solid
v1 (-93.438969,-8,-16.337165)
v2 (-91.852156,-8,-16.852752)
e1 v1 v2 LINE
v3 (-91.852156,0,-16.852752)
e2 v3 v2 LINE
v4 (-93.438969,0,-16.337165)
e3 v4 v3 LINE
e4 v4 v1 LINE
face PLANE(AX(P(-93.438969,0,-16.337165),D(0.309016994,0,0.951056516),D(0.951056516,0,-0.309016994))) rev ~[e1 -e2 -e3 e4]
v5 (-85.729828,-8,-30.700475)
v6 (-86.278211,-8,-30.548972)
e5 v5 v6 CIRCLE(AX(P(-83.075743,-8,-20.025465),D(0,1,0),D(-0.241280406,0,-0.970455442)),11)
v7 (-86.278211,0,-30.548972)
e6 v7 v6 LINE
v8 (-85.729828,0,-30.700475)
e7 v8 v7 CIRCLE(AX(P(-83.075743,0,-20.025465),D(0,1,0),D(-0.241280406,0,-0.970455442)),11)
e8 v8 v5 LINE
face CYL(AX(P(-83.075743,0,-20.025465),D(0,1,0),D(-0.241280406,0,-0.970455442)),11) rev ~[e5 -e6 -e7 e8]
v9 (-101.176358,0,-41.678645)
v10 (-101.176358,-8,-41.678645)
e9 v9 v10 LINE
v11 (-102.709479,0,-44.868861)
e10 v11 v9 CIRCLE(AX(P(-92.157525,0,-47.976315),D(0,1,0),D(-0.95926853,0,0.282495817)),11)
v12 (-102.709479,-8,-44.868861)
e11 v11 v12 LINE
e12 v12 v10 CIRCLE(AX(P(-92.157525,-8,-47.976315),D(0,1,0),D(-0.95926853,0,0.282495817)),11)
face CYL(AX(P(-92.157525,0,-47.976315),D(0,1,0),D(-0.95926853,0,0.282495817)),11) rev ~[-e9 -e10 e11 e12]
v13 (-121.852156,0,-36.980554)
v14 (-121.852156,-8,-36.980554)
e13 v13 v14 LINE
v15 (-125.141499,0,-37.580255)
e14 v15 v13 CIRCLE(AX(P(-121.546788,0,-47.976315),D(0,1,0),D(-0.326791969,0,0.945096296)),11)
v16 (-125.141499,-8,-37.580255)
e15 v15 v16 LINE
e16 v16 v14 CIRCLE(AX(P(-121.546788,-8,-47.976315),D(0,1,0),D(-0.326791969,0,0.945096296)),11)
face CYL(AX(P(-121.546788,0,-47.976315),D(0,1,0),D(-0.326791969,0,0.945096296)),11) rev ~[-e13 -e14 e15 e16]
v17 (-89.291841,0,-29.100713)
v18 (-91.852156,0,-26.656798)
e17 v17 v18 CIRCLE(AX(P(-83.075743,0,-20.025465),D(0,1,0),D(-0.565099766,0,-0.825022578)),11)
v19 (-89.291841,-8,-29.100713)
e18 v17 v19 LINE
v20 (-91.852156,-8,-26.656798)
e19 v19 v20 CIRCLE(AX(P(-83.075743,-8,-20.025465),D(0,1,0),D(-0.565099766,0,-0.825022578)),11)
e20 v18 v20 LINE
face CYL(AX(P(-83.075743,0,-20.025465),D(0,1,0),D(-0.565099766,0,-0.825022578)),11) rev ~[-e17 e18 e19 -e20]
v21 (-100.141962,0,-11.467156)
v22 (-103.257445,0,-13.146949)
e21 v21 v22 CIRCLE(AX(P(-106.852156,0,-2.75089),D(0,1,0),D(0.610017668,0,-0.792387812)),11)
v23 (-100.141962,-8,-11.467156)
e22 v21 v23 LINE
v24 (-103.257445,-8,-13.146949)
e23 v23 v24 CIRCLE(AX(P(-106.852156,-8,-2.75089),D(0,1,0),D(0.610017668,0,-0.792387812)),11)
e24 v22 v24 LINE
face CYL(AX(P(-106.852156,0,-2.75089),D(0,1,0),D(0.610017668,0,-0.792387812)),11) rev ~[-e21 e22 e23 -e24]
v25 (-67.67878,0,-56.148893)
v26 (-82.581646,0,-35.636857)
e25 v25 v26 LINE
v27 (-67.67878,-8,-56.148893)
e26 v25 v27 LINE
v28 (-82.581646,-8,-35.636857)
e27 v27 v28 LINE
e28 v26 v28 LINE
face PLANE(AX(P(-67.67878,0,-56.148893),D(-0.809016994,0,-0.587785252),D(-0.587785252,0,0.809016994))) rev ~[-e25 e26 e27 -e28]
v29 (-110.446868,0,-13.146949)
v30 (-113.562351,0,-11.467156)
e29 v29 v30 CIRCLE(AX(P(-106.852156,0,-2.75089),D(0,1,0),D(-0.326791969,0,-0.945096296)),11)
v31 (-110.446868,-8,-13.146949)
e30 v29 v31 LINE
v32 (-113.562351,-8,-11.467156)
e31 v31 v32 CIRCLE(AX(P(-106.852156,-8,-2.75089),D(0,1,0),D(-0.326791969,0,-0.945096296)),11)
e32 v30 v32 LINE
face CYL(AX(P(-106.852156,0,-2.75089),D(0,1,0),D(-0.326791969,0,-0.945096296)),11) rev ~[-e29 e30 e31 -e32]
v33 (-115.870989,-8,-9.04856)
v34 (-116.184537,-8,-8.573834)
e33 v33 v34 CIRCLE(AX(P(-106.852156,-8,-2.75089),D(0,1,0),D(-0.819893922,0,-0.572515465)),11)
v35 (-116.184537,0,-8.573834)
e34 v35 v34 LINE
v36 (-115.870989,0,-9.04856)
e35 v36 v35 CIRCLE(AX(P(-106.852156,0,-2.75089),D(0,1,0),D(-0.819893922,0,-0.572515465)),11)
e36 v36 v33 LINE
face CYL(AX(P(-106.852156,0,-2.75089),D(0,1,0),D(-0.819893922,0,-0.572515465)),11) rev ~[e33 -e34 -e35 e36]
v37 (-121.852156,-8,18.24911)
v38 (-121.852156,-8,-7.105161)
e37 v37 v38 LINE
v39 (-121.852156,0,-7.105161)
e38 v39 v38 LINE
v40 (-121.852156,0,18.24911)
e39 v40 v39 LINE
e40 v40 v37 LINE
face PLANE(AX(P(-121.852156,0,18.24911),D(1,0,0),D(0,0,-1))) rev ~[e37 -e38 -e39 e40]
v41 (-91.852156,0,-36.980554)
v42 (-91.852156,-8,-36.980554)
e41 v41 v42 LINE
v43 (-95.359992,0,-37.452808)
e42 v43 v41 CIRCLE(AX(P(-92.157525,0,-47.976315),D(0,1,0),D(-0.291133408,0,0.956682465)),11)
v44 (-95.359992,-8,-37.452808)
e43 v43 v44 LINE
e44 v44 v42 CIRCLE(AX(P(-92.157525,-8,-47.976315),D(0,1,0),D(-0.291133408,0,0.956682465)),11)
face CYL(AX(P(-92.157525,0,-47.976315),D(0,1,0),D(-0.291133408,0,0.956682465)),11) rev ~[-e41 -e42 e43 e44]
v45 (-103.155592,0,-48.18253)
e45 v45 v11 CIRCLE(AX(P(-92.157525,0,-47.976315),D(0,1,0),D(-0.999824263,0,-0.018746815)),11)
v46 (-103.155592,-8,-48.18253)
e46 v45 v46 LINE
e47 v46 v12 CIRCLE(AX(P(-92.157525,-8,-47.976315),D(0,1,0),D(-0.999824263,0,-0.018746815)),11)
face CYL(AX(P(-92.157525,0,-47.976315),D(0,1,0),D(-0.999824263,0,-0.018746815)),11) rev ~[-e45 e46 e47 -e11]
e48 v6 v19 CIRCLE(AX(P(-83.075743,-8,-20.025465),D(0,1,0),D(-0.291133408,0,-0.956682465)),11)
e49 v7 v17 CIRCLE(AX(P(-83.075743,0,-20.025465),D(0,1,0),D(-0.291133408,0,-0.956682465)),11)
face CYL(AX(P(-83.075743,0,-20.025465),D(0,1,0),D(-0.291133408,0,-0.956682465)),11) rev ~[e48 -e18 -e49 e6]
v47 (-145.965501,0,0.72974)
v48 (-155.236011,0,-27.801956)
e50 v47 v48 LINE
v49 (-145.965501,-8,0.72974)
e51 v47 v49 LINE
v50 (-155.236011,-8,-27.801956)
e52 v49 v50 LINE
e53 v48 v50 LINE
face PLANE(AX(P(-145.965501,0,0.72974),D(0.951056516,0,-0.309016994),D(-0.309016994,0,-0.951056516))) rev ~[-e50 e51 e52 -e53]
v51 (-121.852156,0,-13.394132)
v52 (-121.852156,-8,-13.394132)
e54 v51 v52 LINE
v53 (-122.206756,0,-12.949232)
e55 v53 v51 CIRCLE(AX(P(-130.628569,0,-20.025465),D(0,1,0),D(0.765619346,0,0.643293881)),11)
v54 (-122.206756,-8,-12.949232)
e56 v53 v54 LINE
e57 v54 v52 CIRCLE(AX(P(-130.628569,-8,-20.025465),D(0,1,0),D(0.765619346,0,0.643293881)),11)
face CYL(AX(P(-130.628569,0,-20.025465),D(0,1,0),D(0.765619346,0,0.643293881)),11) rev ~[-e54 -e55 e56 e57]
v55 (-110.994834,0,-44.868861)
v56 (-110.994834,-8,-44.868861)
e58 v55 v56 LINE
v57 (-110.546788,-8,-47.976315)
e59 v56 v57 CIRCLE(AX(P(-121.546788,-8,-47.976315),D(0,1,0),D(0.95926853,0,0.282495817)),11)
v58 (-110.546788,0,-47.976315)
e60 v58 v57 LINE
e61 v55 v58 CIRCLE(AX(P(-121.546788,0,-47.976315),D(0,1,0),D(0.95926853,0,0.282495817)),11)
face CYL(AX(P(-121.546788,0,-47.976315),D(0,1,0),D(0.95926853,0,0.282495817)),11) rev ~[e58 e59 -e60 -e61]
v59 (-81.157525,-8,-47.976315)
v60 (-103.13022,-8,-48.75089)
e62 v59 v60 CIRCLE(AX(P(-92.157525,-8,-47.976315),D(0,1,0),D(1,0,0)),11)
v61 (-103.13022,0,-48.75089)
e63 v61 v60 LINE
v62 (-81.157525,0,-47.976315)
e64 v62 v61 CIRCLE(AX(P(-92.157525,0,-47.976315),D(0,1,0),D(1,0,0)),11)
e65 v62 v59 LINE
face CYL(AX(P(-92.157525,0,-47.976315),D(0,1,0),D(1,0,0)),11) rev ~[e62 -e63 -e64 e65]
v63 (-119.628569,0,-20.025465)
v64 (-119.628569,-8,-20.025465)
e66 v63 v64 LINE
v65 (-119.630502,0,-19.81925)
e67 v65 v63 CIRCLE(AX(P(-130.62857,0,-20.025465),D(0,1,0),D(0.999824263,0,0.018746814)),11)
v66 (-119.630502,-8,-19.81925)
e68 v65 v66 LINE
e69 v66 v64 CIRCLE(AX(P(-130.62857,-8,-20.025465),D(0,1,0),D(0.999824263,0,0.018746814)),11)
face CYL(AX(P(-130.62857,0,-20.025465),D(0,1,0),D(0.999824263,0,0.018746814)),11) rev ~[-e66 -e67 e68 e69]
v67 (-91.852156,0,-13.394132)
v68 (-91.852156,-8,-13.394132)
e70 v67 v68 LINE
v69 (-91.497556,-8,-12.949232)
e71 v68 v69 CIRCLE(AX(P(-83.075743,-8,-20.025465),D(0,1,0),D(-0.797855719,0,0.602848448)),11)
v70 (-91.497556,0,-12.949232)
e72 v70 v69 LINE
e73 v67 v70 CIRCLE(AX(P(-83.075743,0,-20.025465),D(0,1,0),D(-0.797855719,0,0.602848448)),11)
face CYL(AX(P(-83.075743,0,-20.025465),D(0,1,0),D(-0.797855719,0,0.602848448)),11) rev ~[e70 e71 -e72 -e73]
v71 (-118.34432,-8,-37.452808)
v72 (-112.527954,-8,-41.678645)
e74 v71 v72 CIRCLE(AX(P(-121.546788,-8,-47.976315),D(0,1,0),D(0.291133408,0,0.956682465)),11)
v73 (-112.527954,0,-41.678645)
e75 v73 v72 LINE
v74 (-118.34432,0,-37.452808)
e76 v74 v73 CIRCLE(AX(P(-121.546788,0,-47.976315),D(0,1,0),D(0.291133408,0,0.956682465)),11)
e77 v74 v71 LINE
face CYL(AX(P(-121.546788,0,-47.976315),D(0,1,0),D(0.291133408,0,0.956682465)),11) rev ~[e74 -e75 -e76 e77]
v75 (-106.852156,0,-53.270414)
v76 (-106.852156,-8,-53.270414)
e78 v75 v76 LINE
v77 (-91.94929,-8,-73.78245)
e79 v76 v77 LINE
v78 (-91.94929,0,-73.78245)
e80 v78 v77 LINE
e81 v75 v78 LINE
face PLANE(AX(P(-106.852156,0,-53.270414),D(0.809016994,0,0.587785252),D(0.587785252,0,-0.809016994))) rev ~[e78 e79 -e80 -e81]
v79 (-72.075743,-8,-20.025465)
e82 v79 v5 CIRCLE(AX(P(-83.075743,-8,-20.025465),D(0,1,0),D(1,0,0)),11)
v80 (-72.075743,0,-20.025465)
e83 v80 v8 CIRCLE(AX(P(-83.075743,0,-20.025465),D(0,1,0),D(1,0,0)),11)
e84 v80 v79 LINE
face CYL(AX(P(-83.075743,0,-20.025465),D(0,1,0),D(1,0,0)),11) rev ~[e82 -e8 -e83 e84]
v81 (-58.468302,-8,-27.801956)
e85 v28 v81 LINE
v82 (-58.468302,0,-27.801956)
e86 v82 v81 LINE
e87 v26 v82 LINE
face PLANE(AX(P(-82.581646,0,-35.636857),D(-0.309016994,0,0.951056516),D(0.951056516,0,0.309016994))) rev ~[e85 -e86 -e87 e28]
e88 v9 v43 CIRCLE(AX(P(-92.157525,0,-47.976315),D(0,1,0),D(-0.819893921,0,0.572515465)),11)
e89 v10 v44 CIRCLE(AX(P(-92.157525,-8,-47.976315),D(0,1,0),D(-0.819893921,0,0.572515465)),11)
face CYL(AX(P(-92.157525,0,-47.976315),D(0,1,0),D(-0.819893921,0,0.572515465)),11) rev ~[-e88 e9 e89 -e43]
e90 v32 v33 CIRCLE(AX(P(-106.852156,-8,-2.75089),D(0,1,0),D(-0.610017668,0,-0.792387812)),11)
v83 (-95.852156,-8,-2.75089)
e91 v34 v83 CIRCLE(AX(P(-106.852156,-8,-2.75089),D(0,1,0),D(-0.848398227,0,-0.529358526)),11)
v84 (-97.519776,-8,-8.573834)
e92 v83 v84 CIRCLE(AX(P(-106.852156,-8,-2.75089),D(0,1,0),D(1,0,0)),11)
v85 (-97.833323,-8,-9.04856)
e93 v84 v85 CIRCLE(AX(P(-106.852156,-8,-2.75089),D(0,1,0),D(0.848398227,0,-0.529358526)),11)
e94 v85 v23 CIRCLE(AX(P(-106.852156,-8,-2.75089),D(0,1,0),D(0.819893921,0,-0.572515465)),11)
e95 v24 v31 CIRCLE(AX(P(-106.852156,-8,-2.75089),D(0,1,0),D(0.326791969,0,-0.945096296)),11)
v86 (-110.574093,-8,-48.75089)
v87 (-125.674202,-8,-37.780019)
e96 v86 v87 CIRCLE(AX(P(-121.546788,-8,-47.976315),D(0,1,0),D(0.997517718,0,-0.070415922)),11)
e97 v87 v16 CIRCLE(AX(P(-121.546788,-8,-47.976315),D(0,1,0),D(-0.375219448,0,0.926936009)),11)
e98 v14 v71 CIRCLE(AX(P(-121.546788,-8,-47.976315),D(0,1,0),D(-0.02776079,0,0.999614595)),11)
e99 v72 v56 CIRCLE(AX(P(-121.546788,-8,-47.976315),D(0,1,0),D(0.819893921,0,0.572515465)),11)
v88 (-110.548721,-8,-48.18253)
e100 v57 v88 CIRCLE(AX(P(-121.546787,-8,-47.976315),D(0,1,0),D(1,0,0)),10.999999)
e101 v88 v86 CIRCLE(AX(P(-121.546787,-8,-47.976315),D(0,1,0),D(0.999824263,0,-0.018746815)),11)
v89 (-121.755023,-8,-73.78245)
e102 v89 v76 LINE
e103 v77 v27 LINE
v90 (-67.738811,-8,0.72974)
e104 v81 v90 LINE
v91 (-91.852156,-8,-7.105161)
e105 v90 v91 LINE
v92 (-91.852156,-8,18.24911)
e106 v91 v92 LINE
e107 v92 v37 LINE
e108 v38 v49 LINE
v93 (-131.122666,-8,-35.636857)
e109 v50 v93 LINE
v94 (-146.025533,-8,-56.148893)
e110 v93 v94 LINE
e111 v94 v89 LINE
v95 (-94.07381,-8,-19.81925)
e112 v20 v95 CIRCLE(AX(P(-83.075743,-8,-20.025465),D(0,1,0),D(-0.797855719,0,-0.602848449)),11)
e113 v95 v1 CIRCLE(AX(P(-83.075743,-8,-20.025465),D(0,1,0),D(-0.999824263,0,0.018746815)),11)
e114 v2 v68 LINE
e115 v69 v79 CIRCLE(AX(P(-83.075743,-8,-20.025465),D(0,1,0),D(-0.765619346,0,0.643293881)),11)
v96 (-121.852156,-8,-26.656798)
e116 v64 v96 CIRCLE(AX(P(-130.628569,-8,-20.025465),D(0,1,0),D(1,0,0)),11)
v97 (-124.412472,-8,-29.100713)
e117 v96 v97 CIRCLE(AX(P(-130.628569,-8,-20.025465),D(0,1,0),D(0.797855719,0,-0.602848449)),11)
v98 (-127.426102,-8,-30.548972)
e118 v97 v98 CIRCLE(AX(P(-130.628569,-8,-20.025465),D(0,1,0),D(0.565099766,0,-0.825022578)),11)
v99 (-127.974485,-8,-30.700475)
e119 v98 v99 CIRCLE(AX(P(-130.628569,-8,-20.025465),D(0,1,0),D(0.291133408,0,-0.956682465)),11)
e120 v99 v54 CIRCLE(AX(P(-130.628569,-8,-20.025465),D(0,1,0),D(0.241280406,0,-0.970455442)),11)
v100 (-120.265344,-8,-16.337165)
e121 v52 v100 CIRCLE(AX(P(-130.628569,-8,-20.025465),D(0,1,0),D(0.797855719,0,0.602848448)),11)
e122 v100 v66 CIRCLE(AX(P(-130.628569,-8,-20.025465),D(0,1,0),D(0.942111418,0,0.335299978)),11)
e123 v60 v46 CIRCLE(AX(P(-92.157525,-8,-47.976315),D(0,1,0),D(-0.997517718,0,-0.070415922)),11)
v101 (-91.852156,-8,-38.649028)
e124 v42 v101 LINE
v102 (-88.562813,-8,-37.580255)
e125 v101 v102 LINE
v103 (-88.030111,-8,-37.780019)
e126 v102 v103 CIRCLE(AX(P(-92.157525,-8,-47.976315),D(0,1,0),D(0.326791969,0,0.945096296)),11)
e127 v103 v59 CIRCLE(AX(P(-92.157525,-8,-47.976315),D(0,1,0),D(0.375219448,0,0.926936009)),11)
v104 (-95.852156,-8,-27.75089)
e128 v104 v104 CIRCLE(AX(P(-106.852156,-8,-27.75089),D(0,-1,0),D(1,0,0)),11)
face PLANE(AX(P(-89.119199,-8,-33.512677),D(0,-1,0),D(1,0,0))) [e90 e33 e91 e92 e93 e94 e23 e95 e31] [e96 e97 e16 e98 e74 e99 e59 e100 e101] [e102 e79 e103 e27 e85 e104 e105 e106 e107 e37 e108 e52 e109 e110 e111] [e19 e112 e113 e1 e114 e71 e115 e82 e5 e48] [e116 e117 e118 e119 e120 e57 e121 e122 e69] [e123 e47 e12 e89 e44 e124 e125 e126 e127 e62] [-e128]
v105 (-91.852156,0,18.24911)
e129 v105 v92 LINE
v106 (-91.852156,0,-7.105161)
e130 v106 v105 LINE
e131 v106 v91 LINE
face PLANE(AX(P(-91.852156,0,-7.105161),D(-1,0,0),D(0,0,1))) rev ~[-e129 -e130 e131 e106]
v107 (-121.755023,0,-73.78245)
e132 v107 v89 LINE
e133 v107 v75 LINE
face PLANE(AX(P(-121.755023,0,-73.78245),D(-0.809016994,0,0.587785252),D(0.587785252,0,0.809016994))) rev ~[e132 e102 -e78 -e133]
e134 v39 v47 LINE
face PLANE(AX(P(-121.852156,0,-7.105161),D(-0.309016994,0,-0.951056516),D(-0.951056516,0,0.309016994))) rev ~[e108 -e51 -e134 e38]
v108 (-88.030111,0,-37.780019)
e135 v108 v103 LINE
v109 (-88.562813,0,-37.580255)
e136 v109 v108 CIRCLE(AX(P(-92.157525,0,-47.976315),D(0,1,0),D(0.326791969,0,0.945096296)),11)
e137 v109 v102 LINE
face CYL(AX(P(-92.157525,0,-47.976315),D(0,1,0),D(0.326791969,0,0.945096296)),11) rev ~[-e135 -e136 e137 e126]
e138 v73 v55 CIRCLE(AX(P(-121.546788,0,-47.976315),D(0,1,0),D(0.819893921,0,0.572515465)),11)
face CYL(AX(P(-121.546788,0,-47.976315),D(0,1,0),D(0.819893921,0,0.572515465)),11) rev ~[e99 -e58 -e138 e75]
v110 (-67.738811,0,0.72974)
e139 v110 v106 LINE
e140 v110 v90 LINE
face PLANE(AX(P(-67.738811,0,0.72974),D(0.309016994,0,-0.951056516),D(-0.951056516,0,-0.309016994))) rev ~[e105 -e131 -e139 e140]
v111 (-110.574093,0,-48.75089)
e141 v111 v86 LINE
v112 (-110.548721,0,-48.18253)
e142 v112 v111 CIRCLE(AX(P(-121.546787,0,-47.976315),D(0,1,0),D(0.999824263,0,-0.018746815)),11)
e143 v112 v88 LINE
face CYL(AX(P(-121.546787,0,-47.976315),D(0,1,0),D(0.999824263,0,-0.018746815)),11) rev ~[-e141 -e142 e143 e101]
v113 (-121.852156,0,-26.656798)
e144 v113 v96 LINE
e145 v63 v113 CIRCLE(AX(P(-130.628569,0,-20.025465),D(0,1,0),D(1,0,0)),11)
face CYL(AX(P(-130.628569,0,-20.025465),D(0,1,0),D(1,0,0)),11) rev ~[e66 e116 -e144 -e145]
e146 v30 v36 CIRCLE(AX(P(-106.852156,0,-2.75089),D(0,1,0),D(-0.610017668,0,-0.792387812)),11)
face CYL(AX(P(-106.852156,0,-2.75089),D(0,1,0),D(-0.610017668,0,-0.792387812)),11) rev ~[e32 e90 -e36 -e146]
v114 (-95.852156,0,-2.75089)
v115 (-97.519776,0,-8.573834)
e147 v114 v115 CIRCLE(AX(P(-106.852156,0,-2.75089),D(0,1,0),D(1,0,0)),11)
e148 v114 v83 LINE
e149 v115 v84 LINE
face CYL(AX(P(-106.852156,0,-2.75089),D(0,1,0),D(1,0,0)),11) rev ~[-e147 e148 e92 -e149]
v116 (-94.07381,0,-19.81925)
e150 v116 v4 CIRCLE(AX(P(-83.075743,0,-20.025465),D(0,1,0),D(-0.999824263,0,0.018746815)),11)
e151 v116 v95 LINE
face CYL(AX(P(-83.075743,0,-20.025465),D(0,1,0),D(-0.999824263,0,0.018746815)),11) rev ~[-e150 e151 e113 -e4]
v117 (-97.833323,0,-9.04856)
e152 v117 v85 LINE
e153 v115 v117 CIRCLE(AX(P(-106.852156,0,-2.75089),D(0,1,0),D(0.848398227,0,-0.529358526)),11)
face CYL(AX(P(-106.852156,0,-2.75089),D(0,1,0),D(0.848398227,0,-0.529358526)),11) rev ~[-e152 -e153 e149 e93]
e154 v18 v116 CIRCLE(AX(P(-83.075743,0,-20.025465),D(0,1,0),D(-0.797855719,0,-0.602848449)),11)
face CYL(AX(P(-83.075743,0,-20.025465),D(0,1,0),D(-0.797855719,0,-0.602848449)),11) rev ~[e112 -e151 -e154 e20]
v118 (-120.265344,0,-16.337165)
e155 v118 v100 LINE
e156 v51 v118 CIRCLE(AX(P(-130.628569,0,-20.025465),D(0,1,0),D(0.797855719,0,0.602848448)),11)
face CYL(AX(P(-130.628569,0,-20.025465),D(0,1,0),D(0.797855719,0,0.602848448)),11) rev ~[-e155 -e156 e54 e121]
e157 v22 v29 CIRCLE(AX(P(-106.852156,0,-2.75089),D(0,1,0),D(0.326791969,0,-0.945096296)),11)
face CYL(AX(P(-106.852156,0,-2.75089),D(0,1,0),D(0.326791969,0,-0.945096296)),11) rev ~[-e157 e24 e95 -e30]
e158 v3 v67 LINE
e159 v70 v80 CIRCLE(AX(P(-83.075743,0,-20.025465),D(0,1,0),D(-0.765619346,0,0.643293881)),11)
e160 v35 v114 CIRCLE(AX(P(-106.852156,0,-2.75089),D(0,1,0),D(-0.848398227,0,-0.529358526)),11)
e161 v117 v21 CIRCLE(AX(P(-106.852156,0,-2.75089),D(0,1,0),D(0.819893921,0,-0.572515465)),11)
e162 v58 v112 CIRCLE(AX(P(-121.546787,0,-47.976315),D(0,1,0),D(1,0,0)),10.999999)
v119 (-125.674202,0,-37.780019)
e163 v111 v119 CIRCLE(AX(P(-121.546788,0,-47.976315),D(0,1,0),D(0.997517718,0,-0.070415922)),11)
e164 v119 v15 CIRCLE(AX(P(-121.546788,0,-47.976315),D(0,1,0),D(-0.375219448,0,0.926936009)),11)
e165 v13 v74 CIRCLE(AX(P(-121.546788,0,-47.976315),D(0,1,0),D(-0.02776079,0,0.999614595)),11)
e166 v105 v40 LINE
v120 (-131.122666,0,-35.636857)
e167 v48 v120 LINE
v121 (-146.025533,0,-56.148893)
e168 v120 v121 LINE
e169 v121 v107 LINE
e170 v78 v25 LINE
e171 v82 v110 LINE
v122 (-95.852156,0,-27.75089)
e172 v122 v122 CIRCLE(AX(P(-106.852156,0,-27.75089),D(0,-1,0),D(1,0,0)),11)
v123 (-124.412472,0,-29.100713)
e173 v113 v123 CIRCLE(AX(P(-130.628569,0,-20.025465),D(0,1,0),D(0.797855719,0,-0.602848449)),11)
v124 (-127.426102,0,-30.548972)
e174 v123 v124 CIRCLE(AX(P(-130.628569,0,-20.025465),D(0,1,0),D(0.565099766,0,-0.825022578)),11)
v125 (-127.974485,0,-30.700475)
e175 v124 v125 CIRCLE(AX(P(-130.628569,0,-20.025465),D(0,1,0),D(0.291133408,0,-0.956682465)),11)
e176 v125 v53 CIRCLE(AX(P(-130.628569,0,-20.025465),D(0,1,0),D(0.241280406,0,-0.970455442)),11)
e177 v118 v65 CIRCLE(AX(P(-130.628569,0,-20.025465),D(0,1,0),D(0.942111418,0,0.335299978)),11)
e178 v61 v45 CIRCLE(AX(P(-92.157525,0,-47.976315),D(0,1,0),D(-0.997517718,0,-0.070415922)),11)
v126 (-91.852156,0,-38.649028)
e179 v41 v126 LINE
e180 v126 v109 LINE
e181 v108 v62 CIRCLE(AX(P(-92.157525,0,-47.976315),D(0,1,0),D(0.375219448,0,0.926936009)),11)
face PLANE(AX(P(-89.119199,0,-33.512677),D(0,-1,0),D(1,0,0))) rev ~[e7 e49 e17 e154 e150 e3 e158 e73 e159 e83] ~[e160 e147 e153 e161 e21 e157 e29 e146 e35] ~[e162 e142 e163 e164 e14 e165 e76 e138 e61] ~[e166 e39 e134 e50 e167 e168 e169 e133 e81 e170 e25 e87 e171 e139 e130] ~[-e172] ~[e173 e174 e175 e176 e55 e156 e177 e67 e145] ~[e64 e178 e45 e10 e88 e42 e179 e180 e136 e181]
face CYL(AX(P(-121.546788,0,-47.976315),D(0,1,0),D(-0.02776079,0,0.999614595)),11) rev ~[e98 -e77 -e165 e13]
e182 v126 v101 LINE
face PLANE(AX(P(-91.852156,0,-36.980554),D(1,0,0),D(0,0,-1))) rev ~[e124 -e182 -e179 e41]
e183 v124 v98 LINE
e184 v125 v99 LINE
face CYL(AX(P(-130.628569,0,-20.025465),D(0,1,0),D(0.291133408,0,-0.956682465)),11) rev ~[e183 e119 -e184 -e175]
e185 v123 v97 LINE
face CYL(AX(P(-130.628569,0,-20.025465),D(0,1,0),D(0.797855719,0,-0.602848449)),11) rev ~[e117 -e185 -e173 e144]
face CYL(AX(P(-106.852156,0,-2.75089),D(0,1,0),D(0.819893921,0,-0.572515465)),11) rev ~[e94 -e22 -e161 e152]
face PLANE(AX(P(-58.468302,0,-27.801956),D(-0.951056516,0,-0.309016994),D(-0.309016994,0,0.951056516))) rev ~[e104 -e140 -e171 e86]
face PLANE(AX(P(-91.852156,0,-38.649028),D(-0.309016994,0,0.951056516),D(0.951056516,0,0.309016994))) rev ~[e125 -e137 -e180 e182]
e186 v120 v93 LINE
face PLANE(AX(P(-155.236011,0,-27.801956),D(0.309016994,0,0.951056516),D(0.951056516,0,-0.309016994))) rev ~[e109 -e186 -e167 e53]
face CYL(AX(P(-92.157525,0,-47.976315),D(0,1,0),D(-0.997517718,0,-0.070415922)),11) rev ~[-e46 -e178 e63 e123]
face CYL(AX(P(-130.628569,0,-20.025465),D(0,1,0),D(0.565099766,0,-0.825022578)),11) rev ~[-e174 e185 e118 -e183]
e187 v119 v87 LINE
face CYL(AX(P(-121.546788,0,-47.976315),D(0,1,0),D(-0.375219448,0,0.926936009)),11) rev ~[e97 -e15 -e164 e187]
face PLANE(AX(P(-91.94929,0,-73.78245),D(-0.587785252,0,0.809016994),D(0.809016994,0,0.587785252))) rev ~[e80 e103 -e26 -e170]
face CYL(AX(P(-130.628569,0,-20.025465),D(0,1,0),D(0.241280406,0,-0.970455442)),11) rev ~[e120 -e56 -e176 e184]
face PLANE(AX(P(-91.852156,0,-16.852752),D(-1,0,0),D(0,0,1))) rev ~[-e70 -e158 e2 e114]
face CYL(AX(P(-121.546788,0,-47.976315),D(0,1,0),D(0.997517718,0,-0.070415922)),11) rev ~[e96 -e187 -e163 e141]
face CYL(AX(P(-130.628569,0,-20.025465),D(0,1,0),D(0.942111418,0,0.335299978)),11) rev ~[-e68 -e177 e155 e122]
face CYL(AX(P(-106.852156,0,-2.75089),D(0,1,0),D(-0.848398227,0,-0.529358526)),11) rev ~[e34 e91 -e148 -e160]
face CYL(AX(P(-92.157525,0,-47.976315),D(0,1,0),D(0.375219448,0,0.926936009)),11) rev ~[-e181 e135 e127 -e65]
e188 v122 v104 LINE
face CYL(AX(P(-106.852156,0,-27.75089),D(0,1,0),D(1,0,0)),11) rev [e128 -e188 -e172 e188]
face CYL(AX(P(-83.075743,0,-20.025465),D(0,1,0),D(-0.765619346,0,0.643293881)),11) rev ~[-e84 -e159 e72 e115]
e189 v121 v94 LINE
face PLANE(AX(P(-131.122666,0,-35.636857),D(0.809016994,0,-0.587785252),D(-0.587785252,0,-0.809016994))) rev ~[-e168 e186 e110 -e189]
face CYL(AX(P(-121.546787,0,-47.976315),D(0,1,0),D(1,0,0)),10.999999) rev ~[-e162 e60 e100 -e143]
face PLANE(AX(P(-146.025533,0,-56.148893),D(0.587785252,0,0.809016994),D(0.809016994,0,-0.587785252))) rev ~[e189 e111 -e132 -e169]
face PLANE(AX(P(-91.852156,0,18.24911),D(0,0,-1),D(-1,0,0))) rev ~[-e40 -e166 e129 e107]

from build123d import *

# Parameters (mm, degrees)
F0_R     = 11
F1_DEPTH = 8


with BuildPart() as f1:
    # F0 (on Front) → F1 (new body)
    with BuildSketch(Plane.XZ):
        with BuildLine():
            Line((-89.2918408091, -29.1007133896), (-91.8521562923, -32.6246853314))
            Line((-91.8521562923, -32.6246853314), (-91.8521562923, -36.9805542024))
            ThreePointArc((-91.8521562923, -36.9805542024), (-90.1845660146, -37.1546959728), (-88.5628133246, -37.5802554901))
            Line((-88.5628133246, -37.5802554901), (-87.8946658648, -37.3631612204))
            Line((-87.8946658648, -37.3631612204), (-85.8652730355, -31.1173323192))
            Line((-85.8652730355, -31.1173323192), (-86.2782108751, -30.5489721424))
            ThreePointArc((-86.2782108751, -30.5489721424), (-87.8403739703, -29.94001471), (-89.2918408091, -29.1007133896))
        make_face()
        with BuildLine():
            Line((-91.8521562923, -7.1051610809), (-91.8521562923, -12.6916002805))
            Line((-91.8521562923, -12.6916002805), (-91.4975561881, -12.9492323367))
            ThreePointArc((-91.4975561881, -12.9492323367), (-79.3101053802, -9.6900903175), (-72.0757433849, -20.0254650286))
            ThreePointArc((-72.0757433849, -20.0254650286), (-76.3006023936, -28.6913443577), (-85.729827848, -30.7004748957))
            Line((-85.729827848, -30.7004748957), (-85.8652730355, -31.1173323192))
            Line((-85.8652730355, -31.1173323192), (-82.5816464611, -35.6368565697))
            Line((-82.5816464611, -35.6368565697), (-58.4683016271, -27.8019558911))
            Line((-58.4683016271, -27.8019558911), (-67.7388114584, 0.7297395977))
            Line((-67.7388114584, 0.7297395977), (-91.8521562923, -7.1051610809))
        make_face()
        with BuildLine():
            Line((-97.165175696, -8.8314657316), (-97.8333231559, -9.0485600013))
            ThreePointArc((-97.8333231559, -9.0485600013), (-98.8952110345, -10.346087197), (-100.1419619443, -11.4671558208))
            Line((-100.1419619443, -11.4671558208), (-97.5816464611, -14.9911277626))
            Line((-97.5816464611, -14.9911277626), (-93.4389689872, -16.337165269))
            ThreePointArc((-93.4389689872, -16.337165269), (-92.7580365863, -14.8050054354), (-91.8521562923, -13.3941320947))
            Line((-91.8521562923, -13.3941320947), (-91.8521562923, -12.6916002805))
            Line((-91.8521562923, -12.6916002805), (-97.165175696, -8.8314657316))
        make_face()
        with BuildLine():
            Line((-110.5487207064, -48.1825297111), (-110.1357828667, -48.7508898879))
            Line((-110.1357828667, -48.7508898879), (-103.5685297179, -48.7508898879))
            Line((-103.5685297179, -48.7508898879), (-103.1555918783, -48.1825297111))
            ThreePointArc((-103.1555918783, -48.1825297111), (-103.0591738884, -46.5086461245), (-102.7094788185, -44.8688607579))
            Line((-102.7094788185, -44.8688607579), (-106.8521562923, -43.5228232515))
            Line((-106.8521562923, -43.5228232515), (-110.9948337662, -44.8688607579))
            ThreePointArc((-110.9948337662, -44.8688607579), (-110.6593753229, -46.4065205201), (-110.5467875996, -47.9763147473))
            ThreePointArc((-110.5467875996, -47.9763147473), (-110.5472708869, -48.0794267595), (-110.5487207064, -48.1825297111))
        make_face()
        Polygon((-121.8521562923, -12.6916002805), (-116.5391368886, -8.8314657316), (-121.8521562923, -7.1051610809), align=None)
        Polygon((-110.1357828667, -48.7508898879), (-106.8521562923, -53.2704141385), (-103.5685297179, -48.7508898879), align=None)
        with BuildLine():
            Line((-67.6787797712, -56.1488928448), (-82.5816464611, -35.6368565697))
            Line((-82.5816464611, -35.6368565697), (-87.8946658648, -37.3631612204))
            Line((-87.8946658648, -37.3631612204), (-88.0301110522, -37.7800186439))
            ThreePointArc((-88.0301110522, -37.7800186439), (-83.0360790124, -41.8282074475), (-81.157524985, -47.9763147473))
            ThreePointArc((-81.157524985, -47.9763147473), (-91.7699968515, -58.9694863527), (-103.1302198842, -48.7508898879))
            Line((-103.1302198842, -48.7508898879), (-103.5685297179, -48.7508898879))
            Line((-103.5685297179, -48.7508898879), (-106.8521562923, -53.2704141385))
            Line((-106.8521562923, -53.2704141385), (-91.9492896025, -73.7824504136))
            Line((-91.9492896025, -73.7824504136), (-67.6787797712, -56.1488928448))
        make_face()
        with BuildLine():
            Line((-125.8096467199, -37.3631612204), (-131.1226661236, -35.6368565697))
            Line((-131.1226661236, -35.6368565697), (-146.0255328134, -56.1488928448))
            Line((-146.0255328134, -56.1488928448), (-121.7550229822, -73.7824504136))
            Line((-121.7550229822, -73.7824504136), (-106.8521562923, -53.2704141385))
            Line((-106.8521562923, -53.2704141385), (-110.1357828667, -48.7508898879))
            Line((-110.1357828667, -48.7508898879), (-110.5740927004, -48.7508898879))
            ThreePointArc((-110.5740927004, -48.7508898879), (-128.0124253749, -56.8755016854), (-125.6742015324, -37.7800186439))
            Line((-125.6742015324, -37.7800186439), (-125.8096467199, -37.3631612204))
        make_face()
        with BuildLine():
            ThreePointArc((-113.5623506403, -11.4671558208), (-114.8091015502, -10.346087197), (-115.8709894288, -9.0485600013))
            Line((-115.8709894288, -9.0485600013), (-116.5391368886, -8.8314657316))
            Line((-116.5391368886, -8.8314657316), (-121.8521562923, -12.6916002805))
            Line((-121.8521562923, -12.6916002805), (-121.8521562923, -13.3941320947))
            ThreePointArc((-121.8521562923, -13.3941320947), (-120.9462759984, -14.8050054354), (-120.2653435974, -16.337165269))
            Line((-120.2653435974, -16.337165269), (-116.1226661236, -14.9911277626))
            Line((-116.1226661236, -14.9911277626), (-113.5623506403, -11.4671558208))
        make_face()
        with BuildLine():
            ThreePointArc((-116.1845367843, -8.5738336754), (-109.8806719839, 7.8239903812), (-95.8521562923, -2.7508898879))
            ThreePointArc((-95.8521562923, -2.7508898879), (-96.2772760232, -5.7794055795), (-97.5197758003, -8.5738336754))
            Line((-97.5197758003, -8.5738336754), (-97.165175696, -8.8314657316))
            Line((-97.165175696, -8.8314657316), (-91.8521562923, -7.1051610809))
            Line((-91.8521562923, -7.1051610809), (-91.8521562923, 18.2491101121))
            Line((-91.8521562923, 18.2491101121), (-121.8521562923, 18.2491101121))
            Line((-121.8521562923, 18.2491101121), (-121.8521562923, -7.1051610809))
            Line((-121.8521562923, -7.1051610809), (-116.5391368886, -8.8314657316))
            Line((-116.5391368886, -8.8314657316), (-116.1845367843, -8.5738336754))
        make_face()
        with BuildLine():
            Line((-121.8521562923, -12.6916002805), (-121.8521562923, -7.1051610809))
            Line((-121.8521562923, -7.1051610809), (-145.9655011263, 0.7297395977))
            Line((-145.9655011263, 0.7297395977), (-155.2360109575, -27.8019558911))
            Line((-155.2360109575, -27.8019558911), (-131.1226661236, -35.6368565697))
            Line((-131.1226661236, -35.6368565697), (-127.8390395492, -31.1173323192))
            Line((-127.8390395492, -31.1173323192), (-127.9744847366, -30.7004748957))
            ThreePointArc((-127.9744847366, -30.7004748957), (-141.0901908789, -16.6262780904), (-122.2067563966, -12.9492323367))
            Line((-122.2067563966, -12.9492323367), (-121.8521562923, -12.6916002805))
        make_face()
        Polygon((-91.8521562923, -7.1051610809), (-97.165175696, -8.8314657316), (-91.8521562923, -12.6916002805), align=None)
        with BuildLine():
            ThreePointArc((-110.4468679527, -13.1469491451), (-112.0726158855, -12.4331830893), (-113.5623506403, -11.4671558208))
            Line((-113.5623506403, -11.4671558208), (-116.1226661236, -14.9911277626))
            Line((-116.1226661236, -14.9911277626), (-110.4468679527, -13.1469491451))
        make_face()
        with BuildLine():
            Line((-97.165175696, -8.8314657316), (-97.5197758003, -8.5738336754))
            ThreePointArc((-97.5197758003, -8.5738336754), (-97.6734798256, -8.8132242831), (-97.8333231559, -9.0485600013))
            Line((-97.8333231559, -9.0485600013), (-97.165175696, -8.8314657316))
        make_face()
        with BuildLine():
            ThreePointArc((-102.7094788185, -44.8688607579), (-102.0720746664, -43.2116841619), (-101.1763581215, -41.678644634))
            Line((-101.1763581215, -41.678644634), (-106.8521562923, -43.5228232515))
            Line((-106.8521562923, -43.5228232515), (-102.7094788185, -44.8688607579))
        make_face()
        with BuildLine():
            ThreePointArc((-115.8709894288, -9.0485600013), (-116.030832759, -8.8132242831), (-116.1845367843, -8.5738336754))
            Line((-116.1845367843, -8.5738336754), (-116.5391368886, -8.8314657316))
            Line((-116.5391368886, -8.8314657316), (-115.8709894288, -9.0485600013))
        make_face()
        with BuildLine():
            ThreePointArc((-127.4261017095, -30.5489721424), (-127.6993135833, -30.6282694469), (-127.9744847366, -30.7004748957))
            Line((-127.9744847366, -30.7004748957), (-127.8390395492, -31.1173323192))
            Line((-127.8390395492, -31.1173323192), (-127.4261017095, -30.5489721424))
        make_face()
        with BuildLine():
            Line((-97.5816464611, -14.9911277626), (-100.1419619443, -11.4671558208))
            ThreePointArc((-100.1419619443, -11.4671558208), (-101.6316966992, -12.4331830893), (-103.2574446319, -13.1469491451))
            Line((-103.2574446319, -13.1469491451), (-97.5816464611, -14.9911277626))
        make_face()
        with BuildLine():
            Line((-106.8521562923, -43.5228232515), (-112.5279544632, -41.678644634))
            ThreePointArc((-112.5279544632, -41.678644634), (-111.6322379182, -43.2116841619), (-110.9948337662, -44.8688607579))
            Line((-110.9948337662, -44.8688607579), (-106.8521562923, -43.5228232515))
        make_face()
        with BuildLine():
            Line((-93.4389689872, -16.337165269), (-97.5816464611, -14.9911277626))
            Line((-97.5816464611, -14.9911277626), (-94.0738102782, -19.8192500647))
            ThreePointArc((-94.0738102782, -19.8192500647), (-93.8973621595, -18.0525060582), (-93.4389689872, -16.337165269))
        make_face()
        Polygon((-127.8390395492, -31.1173323192), (-131.1226661236, -35.6368565697), (-125.8096467199, -37.3631612204), align=None)
        with BuildLine():
            ThreePointArc((-88.5628133246, -37.5802554901), (-90.1845660146, -37.1546959728), (-91.8521562923, -36.9805542024))
            Line((-91.8521562923, -36.9805542024), (-91.8521562923, -38.649027808))
            Line((-91.8521562923, -38.649027808), (-88.5628133246, -37.5802554901))
        make_face()
        with BuildLine():
            Line((-91.8521562923, -36.9805542024), (-91.8521562923, -32.6246853314))
            Line((-91.8521562923, -32.6246853314), (-95.3599924752, -37.4528076335))
            ThreePointArc((-95.3599924752, -37.4528076335), (-93.6251936078, -37.0746658439), (-91.8521562923, -36.9805542024))
        make_face()
        with BuildLine():
            ThreePointArc((-89.2918408091, -29.1007133896), (-90.670940694, -27.9824102864), (-91.8521562923, -26.6567979624))
            Line((-91.8521562923, -26.6567979624), (-91.8521562923, -32.6246853314))
            Line((-91.8521562923, -32.6246853314), (-89.2918408091, -29.1007133896))
        make_face()
        with BuildLine():
            Line((-121.8521562923, -32.6246853314), (-121.8521562923, -26.6567979624))
            ThreePointArc((-121.8521562923, -26.6567979624), (-123.0333718906, -27.9824102864), (-124.4124717756, -29.1007133896))
            Line((-124.4124717756, -29.1007133896), (-121.8521562923, -32.6246853314))
        make_face()
        with BuildLine():
            Line((-118.3443201095, -37.4528076335), (-121.8521562923, -32.6246853314))
            Line((-121.8521562923, -32.6246853314), (-121.8521562923, -36.9805542024))
            ThreePointArc((-121.8521562923, -36.9805542024), (-120.0791189768, -37.0746658439), (-118.3443201095, -37.4528076335))
        make_face()
        with BuildLine():
            Line((-91.4975561881, -12.9492323367), (-91.8521562923, -12.6916002805))
            Line((-91.8521562923, -12.6916002805), (-91.8521562923, -13.3941320947))
            ThreePointArc((-91.8521562923, -13.3941320947), (-91.6777330296, -13.1693893176), (-91.4975561881, -12.9492323367))
        make_face()
        with BuildLine():
            Line((-91.8521562923, -16.8527519678), (-91.8521562923, -13.3941320947))
            ThreePointArc((-91.8521562923, -13.3941320947), (-92.7580365863, -14.8050054354), (-93.4389689872, -16.337165269))
            Line((-93.4389689872, -16.337165269), (-91.8521562923, -16.8527519678))
        make_face()
        with BuildLine():
            Line((-119.6305023064, -19.8192500647), (-116.1226661236, -14.9911277626))
            Line((-116.1226661236, -14.9911277626), (-120.2653435974, -16.337165269))
            ThreePointArc((-120.2653435974, -16.337165269), (-119.8069504252, -18.0525060582), (-119.6305023064, -19.8192500647))
        make_face()
        Polygon((-87.8946658648, -37.3631612204), (-82.5816464611, -35.6368565697), (-85.8652730355, -31.1173323192), align=None)
        with BuildLine():
            Line((-85.8652730355, -31.1173323192), (-85.729827848, -30.7004748957))
            ThreePointArc((-85.729827848, -30.7004748957), (-86.0049990014, -30.6282694469), (-86.2782108751, -30.5489721424))
            Line((-86.2782108751, -30.5489721424), (-85.8652730355, -31.1173323192))
        make_face()
        with BuildLine():
            ThreePointArc((-110.5487207064, -48.1825297111), (-110.5577316002, -48.4668738587), (-110.5740927004, -48.7508898879))
            Line((-110.5740927004, -48.7508898879), (-110.1357828667, -48.7508898879))
            Line((-110.1357828667, -48.7508898879), (-110.5487207064, -48.1825297111))
        make_face()
        with BuildLine():
            Line((-103.1555918783, -48.1825297111), (-103.5685297179, -48.7508898879))
            Line((-103.5685297179, -48.7508898879), (-103.1302198842, -48.7508898879))
            ThreePointArc((-103.1302198842, -48.7508898879), (-103.1465809844, -48.4668738587), (-103.1555918783, -48.1825297111))
        make_face()
        with BuildLine():
            Line((-125.14149926, -37.5802554901), (-125.8096467199, -37.3631612204))
            Line((-125.8096467199, -37.3631612204), (-125.6742015324, -37.7800186439))
            ThreePointArc((-125.6742015324, -37.7800186439), (-125.4091420951, -37.6766925333), (-125.14149926, -37.5802554901))
        make_face()
        with BuildLine():
            Line((-121.8521562923, -13.3941320947), (-121.8521562923, -12.6916002805))
            Line((-121.8521562923, -12.6916002805), (-122.2067563966, -12.9492323367))
            ThreePointArc((-122.2067563966, -12.9492323367), (-122.0265795551, -13.1693893176), (-121.8521562923, -13.3941320947))
        make_face()
        with BuildLine():
            Line((-88.0301110522, -37.7800186439), (-87.8946658648, -37.3631612204))
            Line((-87.8946658648, -37.3631612204), (-88.5628133246, -37.5802554901))
            ThreePointArc((-88.5628133246, -37.5802554901), (-88.2951704895, -37.6766925333), (-88.0301110522, -37.7800186439))
        make_face()
        with BuildLine():
            ThreePointArc((-103.2574446319, -13.1469491451), (-106.8521562923, -13.7508898879), (-110.4468679527, -13.1469491451))
            Line((-110.4468679527, -13.1469491451), (-116.1226661236, -14.9911277626))
            Line((-116.1226661236, -14.9911277626), (-119.6305023064, -19.8192500647))
            ThreePointArc((-119.6305023064, -19.8192500647), (-119.629052487, -19.9223530164), (-119.6285691997, -20.0254650286))
            ThreePointArc((-119.6285691997, -20.0254650286), (-120.1992705181, -23.5225679738), (-121.8521562923, -26.6567979624))
            Line((-121.8521562923, -26.6567979624), (-121.8521562923, -32.6246853314))
            Line((-121.8521562923, -32.6246853314), (-118.3443201095, -37.4528076335))
            ThreePointArc((-118.3443201095, -37.4528076335), (-115.0811498244, -39.0771278092), (-112.5279544632, -41.678644634))
            Line((-112.5279544632, -41.678644634), (-106.8521562923, -43.5228232515))
            Line((-106.8521562923, -43.5228232515), (-101.1763581215, -41.678644634))
            ThreePointArc((-101.1763581215, -41.678644634), (-98.6231627602, -39.0771278092), (-95.3599924752, -37.4528076335))
            Line((-95.3599924752, -37.4528076335), (-91.8521562923, -32.6246853314))
            Line((-91.8521562923, -32.6246853314), (-91.8521562923, -26.6567979624))
            ThreePointArc((-91.8521562923, -26.6567979624), (-93.5373650642, -23.4246519667), (-94.0738102782, -19.8192500647))
            Line((-94.0738102782, -19.8192500647), (-97.5816464611, -14.9911277626))
            Line((-97.5816464611, -14.9911277626), (-103.2574446319, -13.1469491451))
        make_face()
        with Locations((-106.8521562923, -27.7508898879)):
            Circle(F0_R, mode=Mode.SUBTRACT)
        with BuildLine():
            ThreePointArc((-124.4124717756, -29.1007133896), (-125.8639386143, -29.94001471), (-127.4261017095, -30.5489721424))
            Line((-127.4261017095, -30.5489721424), (-127.8390395492, -31.1173323192))
            Line((-127.8390395492, -31.1173323192), (-125.8096467199, -37.3631612204))
            Line((-125.8096467199, -37.3631612204), (-125.14149926, -37.5802554901))
            ThreePointArc((-125.14149926, -37.5802554901), (-123.51974657, -37.1546959728), (-121.8521562923, -36.9805542024))
            Line((-121.8521562923, -36.9805542024), (-121.8521562923, -32.6246853314))
            Line((-121.8521562923, -32.6246853314), (-124.4124717756, -29.1007133896))
        make_face()
    extrude(amount=F1_DEPTH)


solid = f1.part
